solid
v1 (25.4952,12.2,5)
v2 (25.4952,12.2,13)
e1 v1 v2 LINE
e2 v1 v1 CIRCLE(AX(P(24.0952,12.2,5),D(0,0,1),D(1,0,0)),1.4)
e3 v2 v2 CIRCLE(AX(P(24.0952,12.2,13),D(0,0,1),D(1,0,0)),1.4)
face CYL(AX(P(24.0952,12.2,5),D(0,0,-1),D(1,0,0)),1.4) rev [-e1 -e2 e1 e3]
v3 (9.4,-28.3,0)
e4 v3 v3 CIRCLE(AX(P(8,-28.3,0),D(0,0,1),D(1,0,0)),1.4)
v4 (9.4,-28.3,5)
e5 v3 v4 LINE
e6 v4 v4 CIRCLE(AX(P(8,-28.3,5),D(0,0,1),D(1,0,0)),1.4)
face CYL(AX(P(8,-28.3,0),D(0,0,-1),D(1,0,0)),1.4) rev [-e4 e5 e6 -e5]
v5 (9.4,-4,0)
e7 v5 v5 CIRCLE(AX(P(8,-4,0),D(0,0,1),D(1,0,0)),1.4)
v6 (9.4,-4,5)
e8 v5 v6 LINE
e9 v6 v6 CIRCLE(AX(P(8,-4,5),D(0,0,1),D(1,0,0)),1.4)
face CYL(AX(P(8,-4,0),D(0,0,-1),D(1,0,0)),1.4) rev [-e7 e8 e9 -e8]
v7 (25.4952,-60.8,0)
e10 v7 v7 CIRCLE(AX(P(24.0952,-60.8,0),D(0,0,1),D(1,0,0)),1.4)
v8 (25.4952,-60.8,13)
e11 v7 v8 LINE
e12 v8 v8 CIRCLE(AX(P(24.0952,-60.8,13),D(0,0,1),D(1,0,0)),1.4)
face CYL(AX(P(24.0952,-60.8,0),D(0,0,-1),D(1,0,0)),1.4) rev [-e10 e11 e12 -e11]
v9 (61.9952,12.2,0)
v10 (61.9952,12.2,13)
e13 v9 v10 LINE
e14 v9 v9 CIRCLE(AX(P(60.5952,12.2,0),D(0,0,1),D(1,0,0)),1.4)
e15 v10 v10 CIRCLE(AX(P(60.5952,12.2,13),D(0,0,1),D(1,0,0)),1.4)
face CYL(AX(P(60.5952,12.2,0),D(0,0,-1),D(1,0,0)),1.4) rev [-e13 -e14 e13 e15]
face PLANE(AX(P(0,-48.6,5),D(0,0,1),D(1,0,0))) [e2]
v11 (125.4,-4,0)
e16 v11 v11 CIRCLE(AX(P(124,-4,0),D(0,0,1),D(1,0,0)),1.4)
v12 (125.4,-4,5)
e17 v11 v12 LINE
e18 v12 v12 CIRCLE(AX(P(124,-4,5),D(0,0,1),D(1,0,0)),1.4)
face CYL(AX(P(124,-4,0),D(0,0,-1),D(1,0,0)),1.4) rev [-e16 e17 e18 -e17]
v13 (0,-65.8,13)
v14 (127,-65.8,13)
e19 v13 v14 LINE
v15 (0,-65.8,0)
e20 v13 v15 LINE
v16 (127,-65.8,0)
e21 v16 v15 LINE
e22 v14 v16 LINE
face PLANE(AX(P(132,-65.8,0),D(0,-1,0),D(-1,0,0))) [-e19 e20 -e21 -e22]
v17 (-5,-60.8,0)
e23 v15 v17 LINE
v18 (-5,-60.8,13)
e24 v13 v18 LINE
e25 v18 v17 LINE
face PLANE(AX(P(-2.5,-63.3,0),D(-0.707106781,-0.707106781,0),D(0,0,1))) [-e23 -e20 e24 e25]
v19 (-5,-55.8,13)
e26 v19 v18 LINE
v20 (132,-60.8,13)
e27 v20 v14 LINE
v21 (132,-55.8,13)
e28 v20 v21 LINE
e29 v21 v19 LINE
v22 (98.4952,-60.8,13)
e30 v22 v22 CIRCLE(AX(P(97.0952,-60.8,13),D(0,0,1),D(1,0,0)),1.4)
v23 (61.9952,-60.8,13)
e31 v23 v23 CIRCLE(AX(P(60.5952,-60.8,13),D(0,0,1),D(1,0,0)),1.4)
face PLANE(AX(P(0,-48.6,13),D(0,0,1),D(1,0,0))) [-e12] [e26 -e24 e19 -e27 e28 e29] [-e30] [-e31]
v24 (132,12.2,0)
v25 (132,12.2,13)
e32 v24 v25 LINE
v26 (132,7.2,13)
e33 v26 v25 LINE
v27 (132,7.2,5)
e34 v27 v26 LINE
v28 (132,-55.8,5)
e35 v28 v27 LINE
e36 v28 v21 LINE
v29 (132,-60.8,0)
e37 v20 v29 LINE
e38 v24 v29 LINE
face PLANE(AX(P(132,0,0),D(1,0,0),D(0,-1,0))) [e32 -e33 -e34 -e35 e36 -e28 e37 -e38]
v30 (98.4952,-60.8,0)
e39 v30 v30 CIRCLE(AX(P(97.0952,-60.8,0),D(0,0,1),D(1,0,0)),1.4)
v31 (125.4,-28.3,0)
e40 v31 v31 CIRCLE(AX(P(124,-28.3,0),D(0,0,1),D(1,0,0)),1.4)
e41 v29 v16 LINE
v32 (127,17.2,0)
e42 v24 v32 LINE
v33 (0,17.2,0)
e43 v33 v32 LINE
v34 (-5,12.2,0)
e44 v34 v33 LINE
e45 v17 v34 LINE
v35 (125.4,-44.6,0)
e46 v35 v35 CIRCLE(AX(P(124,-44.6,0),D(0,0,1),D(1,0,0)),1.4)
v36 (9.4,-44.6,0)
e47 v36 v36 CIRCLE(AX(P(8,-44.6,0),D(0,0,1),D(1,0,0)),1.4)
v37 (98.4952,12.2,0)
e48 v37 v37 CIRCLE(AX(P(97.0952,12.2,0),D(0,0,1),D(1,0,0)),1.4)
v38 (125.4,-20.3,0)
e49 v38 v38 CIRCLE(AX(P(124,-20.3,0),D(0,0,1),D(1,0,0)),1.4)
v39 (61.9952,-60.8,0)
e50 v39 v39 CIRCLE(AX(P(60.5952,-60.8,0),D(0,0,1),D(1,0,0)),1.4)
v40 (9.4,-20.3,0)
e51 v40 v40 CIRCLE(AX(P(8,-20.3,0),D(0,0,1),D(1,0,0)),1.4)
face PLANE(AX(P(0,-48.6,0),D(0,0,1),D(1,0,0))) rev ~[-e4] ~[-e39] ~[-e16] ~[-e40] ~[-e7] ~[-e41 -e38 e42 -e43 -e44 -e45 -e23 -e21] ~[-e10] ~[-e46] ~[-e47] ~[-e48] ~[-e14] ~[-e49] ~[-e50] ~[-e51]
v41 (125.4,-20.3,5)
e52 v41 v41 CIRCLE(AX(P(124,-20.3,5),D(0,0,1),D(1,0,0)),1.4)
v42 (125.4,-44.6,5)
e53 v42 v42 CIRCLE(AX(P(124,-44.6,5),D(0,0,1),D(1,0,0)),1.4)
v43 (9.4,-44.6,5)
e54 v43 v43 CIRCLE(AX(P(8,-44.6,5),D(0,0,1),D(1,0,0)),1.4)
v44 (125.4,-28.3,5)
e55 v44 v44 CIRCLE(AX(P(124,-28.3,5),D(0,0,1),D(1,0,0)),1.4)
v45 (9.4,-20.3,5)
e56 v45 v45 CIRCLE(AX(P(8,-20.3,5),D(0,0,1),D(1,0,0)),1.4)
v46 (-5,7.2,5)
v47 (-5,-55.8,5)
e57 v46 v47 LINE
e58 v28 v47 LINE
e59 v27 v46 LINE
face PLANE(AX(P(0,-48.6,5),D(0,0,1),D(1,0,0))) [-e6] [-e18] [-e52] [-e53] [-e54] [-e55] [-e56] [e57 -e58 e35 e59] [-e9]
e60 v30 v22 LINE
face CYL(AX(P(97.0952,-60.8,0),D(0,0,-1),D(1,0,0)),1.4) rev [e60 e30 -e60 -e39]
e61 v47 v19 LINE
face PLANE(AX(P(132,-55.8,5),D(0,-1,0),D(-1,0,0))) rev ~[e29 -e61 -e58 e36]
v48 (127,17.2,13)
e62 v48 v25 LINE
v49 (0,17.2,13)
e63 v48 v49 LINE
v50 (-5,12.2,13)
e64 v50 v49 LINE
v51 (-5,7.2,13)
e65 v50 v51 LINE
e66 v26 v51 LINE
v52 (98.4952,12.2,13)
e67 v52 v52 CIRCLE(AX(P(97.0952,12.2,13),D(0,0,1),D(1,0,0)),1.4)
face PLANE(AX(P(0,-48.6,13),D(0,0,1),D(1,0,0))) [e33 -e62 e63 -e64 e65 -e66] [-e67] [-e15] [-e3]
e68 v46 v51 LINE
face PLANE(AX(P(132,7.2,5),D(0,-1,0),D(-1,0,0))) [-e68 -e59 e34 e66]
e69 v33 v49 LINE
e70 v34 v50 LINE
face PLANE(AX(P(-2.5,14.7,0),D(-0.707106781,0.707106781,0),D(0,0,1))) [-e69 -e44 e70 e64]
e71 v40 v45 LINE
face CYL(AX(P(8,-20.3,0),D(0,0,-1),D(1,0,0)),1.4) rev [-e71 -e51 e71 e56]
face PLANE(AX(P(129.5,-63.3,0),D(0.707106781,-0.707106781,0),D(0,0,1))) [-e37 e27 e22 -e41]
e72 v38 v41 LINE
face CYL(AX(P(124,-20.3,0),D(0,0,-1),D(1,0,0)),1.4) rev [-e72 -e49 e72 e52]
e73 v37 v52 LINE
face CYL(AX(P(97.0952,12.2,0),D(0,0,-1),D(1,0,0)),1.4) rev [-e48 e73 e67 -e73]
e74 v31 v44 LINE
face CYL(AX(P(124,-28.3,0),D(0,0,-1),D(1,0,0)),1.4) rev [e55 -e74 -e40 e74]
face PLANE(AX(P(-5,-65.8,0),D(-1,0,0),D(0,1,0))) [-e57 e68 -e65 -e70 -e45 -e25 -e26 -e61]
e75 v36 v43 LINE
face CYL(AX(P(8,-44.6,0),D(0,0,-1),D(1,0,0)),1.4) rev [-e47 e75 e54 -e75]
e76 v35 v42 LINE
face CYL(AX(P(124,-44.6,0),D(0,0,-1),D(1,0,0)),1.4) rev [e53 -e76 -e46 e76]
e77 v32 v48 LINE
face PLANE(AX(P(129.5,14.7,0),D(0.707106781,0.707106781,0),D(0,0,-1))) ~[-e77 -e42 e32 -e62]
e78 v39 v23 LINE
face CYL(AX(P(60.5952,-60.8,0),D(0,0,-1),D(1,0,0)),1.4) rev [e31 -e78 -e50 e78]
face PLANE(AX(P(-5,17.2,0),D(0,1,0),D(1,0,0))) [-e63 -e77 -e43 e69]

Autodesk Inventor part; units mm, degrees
ref_plane "YZ Plane" through (0, 0, 0) normal (1, 0, 0) x (0, 1, 0)
ref_plane "XZ Plane" through (0, 0, 0) normal (0, 1, 0) x (-1, 0, 0)
ref_plane "XY Plane" through (0, 0, 0) normal (0, 0, 1) x (1, 0, 0)
ref_plane "Arbeitsebene1" through (0, -48.6, 0) normal (0, 0, 1) x (1, 0, 0)
sketch "Skizze1" plane through (0, -48.6, 0) normal (0, 0, 1) x (1, 0, 0)
  circle A0 centre (124, 28.3) radius 1.4 projected
  circle A1 centre (124, 44.6) radius 1.4 projected
  circle A2 centre (8, 28.3) radius 1.4 projected
  circle A3 centre (8, 44.6) radius 1.4 projected
  spline S0 degree 2 poles (11.2125, 42.0174) (10.5764, 41.5903) (9.8857, 40.1908) (9.8857, 39.2184) knots 0 0 0 1 2 2 2 construction
  spline S1 degree 2 poles (14.1568, 42.7535) (13.1936, 42.7535) (11.785, 42.3991) (11.2125, 42.0174) knots 0 0 0 1 2 2 2 construction
  line L0 (18.5098, 42.7535) -> (14.1568, 42.7535) construction
  line L1 (18.5098, 31.5395) -> (18.5098, 42.7535) construction
  line L2 (15.6926, 31.5395) -> (18.5098, 31.5395) construction
  line L3 (15.6926, 35.2108) -> (15.6926, 31.5395) construction
  line L4 (14.2205, 35.2108) -> (15.6926, 35.2108) construction
  spline S2 degree 2 poles (12.2303, 35.5834) (12.6483, 35.4108) (13.6207, 35.2108) (14.2205, 35.2108) knots 0 0 0 1 2 2 2 construction
  spline S3 degree 2 poles (10.849, 36.5467) (11.1307, 36.2468) (11.8213, 35.7561) (12.2303, 35.5834) knots 0 0 0 1 2 2 2 construction
  spline S4 degree 2 poles (9.8857, 39.2184) (9.8857, 38.4369) (10.3855, 37.0193) (10.849, 36.5467) knots 0 0 0 1 2 2 2 construction
  spline S5 degree 2 poles (25.6162, 42.9898) (23.0899, 42.9898) (20.1819, 39.8637) (20.1819, 37.1465) knots 0 0 0 1 2 2 2 construction
  spline S6 degree 2 poles (31.0415, 37.1465) (31.0415, 39.8455) (28.1516, 42.9898) (25.6162, 42.9898) knots 0 0 0 1 2 2 2 construction
  spline S7 degree 2 poles (25.6162, 31.3032) (28.1516, 31.3032) (31.0415, 34.4566) (31.0415, 37.1465) knots 0 0 0 1 2 2 2 construction
  spline S8 degree 2 poles (20.1819, 37.1465) (20.1819, 34.4202) (23.0899, 31.3032) (25.6162, 31.3032) knots 0 0 0 1 2 2 2 construction
  spline S9 degree 2 poles (37.4936, 42.9898) (34.9673, 42.9898) (32.0593, 39.8637) (32.0593, 37.1465) knots 0 0 0 1 2 2 2 construction
  spline S10 degree 2 poles (42.9188, 37.1465) (42.9188, 39.8455) (40.029, 42.9898) (37.4936, 42.9898) knots 0 0 0 1 2 2 2 construction
  spline S11 degree 2 poles (37.4936, 31.3032) (40.029, 31.3032) (42.9188, 34.4566) (42.9188, 37.1465) knots 0 0 0 1 2 2 2 construction
  spline S12 degree 2 poles (32.0593, 37.1465) (32.0593, 34.4202) (34.9673, 31.3032) (37.4936, 31.3032) knots 0 0 0 1 2 2 2 construction
  line L5 (56.2684, 35.8379) -> (53.1696, 31.5395) construction
  line L6 (53.2059, 40) -> (56.2684, 35.8379) construction
  line L7 (56.2321, 40) -> (53.2059, 40) construction
  line L8 (57.8224, 37.619) -> (56.2321, 40) construction
  line L9 (59.4036, 40) -> (57.8224, 37.619) construction
  line L10 (62.4934, 40) -> (59.4036, 40) construction
  line L11 (59.4309, 35.7743) -> (62.4934, 40) construction
  line L12 (62.5479, 31.5395) -> (59.4309, 35.7743) construction
  line L13 (59.5217, 31.5395) -> (62.5479, 31.5395) construction
  line L14 (57.8678, 33.9659) -> (59.5217, 31.5395) construction
  line L15 (56.2593, 31.5395) -> (57.8678, 33.9659) construction
  line L16 (53.1696, 31.5395) -> (56.2593, 31.5395) construction
  spline S13 degree 2 poles (72.6805, 31.6667) (73.1712, 31.5031) (74.0072, 31.3396) (74.6797, 31.3396) knots 0 0 0 1 2 2 2 construction
  spline S14 degree 2 poles (71.1901, 32.3028) (71.5627, 32.1302) (72.217, 31.8121) (72.6805, 31.6667) knots 0 0 0 1 2 2 2 construction
  line L17 (71.1901, 34.084) -> (71.1901, 32.3028) construction
  line L18 (71.2992, 34.084) -> (71.1901, 34.084) construction
  spline S15 degree 2 poles (72.4896, 33.1843) (72.0807, 33.4206) (71.4718, 33.9113) (71.2992, 34.084) knots 0 0 0 1 2 2 2 construction
  spline S16 degree 2 poles (74.6615, 32.63) (74.0163, 32.63) (72.9167, 32.9481) (72.4896, 33.1843) knots 0 0 0 1 2 2 2 construction
  spline S17 degree 2 poles (77.1061, 33.7478) (76.6335, 33.1934) (75.3704, 32.63) (74.6615, 32.63) knots 0 0 0 1 2 2 2 construction
  spline S18 degree 2 poles (78.1421, 37.1374) (78.1421, 35.9833) (77.5877, 34.3203) (77.1061, 33.7478) knots 0 0 0 1 2 2 2 construction
  spline S19 degree 2 poles (77.1424, 40.527) (77.615, 39.9545) (78.1421, 38.2188) (78.1421, 37.1374) knots 0 0 0 1 2 2 2 construction
  spline S20 degree 2 poles (74.6615, 41.6812) (75.3795, 41.6812) (76.6608, 41.0905) (77.1424, 40.527) knots 0 0 0 1 2 2 2 construction
  spline S21 degree 2 poles (72.5714, 41.145) (72.9985, 41.3813) (74.0072, 41.6812) (74.6615, 41.6812) knots 0 0 0 1 2 2 2 construction
  spline S22 degree 2 poles (71.3083, 40.209) (71.5082, 40.3907) (72.1261, 40.8996) (72.5714, 41.145) knots 0 0 0 1 2 2 2 construction
  line L19 (71.1901, 40.209) -> (71.3083, 40.209) construction
  line L20 (71.1901, 42.0083) -> (71.1901, 40.209) construction
  spline S23 degree 2 poles (72.6805, 42.6626) (72.317, 42.5445) (71.5627, 42.2082) (71.1901, 42.0083) knots 0 0 0 1 2 2 2 construction
  spline S24 degree 2 poles (74.6525, 42.9534) (74.089, 42.9534) (73.0985, 42.7898) (72.6805, 42.6626) knots 0 0 0 1 2 2 2 construction
  spline S25 degree 2 poles (78.2966, 41.4085) (77.6241, 42.1628) (75.7884, 42.9534) (74.6525, 42.9534) knots 0 0 0 1 2 2 2 construction
  spline S26 degree 2 poles (79.696, 37.1374) (79.696, 38.546) (78.9781, 40.6361) (78.2966, 41.4085) knots 0 0 0 1 2 2 2 construction
  spline S27 degree 2 poles (78.2875, 32.8117) (78.9599, 33.5387) (79.696, 35.7198) (79.696, 37.1374) knots 0 0 0 1 2 2 2 construction
  spline S28 degree 2 poles (74.6797, 31.3396) (75.7702, 31.3396) (77.615, 32.0757) (78.2875, 32.8117) knots 0 0 0 1 2 2 2 construction
  line L21 (91.2735, 37.0011) -> (91.2735, 31.5395) construction
  spline S29 degree 2 poles (93.9089, 40.1908) (92.673, 40.1908) (91.2735, 38.5551) (91.2735, 37.0011) knots 0 0 0 1 2 2 2 construction
  spline S30 degree 2 poles (96.4625, 39.0185) (95.8264, 39.591) (94.5996, 40.1908) (93.9089, 40.1908) knots 0 0 0 1 2 2 2 construction
  line L22 (96.4625, 39.9545) -> (96.4625, 39.0185) construction
  line L23 (97.8802, 39.9545) -> (96.4625, 39.9545) construction
  line L24 (97.8802, 31.5395) -> (97.8802, 39.9545) construction
  line L25 (96.4625, 31.5395) -> (97.8802, 31.5395) construction
  line L26 (96.4625, 37.8281) -> (96.4625, 31.5395) construction
  spline S31 degree 2 poles (94.2815, 38.8459) (94.8086, 38.8459) (95.9263, 38.2824) (96.4625, 37.8281) knots 0 0 0 1 2 2 2 construction
  spline S32 degree 2 poles (92.9638, 38.2188) (93.1365, 38.5369) (93.7544, 38.8459) (94.2815, 38.8459) knots 0 0 0 1 2 2 2 construction
  spline S33 degree 2 poles (92.6912, 36.3377) (92.6912, 36.9193) (92.8002, 37.9189) (92.9638, 38.2188) knots 0 0 0 1 2 2 2 construction
  line L27 (92.6912, 31.5395) -> (92.6912, 36.3377) construction
  line L28 (91.2735, 31.5395) -> (92.6912, 31.5395) construction
  spline S34 degree 2 poles (100.7518, 31.5849) (101.1608, 31.4668) (101.8332, 31.3487) (102.3421, 31.3487) knots 0 0 0 1 2 2 2 construction
  spline S35 degree 2 poles (99.4705, 32.0575) (99.7158, 31.9575) (100.461, 31.6667) (100.7518, 31.5849) knots 0 0 0 1 2 2 2 construction
  line L29 (99.4705, 33.6024) -> (99.4705, 32.0575) construction
  line L30 (99.5523, 33.6024) -> (99.4705, 33.6024) construction
  spline S36 degree 2 poles (100.6337, 32.9571) (100.252, 33.1389) (99.7249, 33.457) (99.5523, 33.6024) knots 0 0 0 1 2 2 2 construction
  spline S37 degree 2 poles (102.3603, 32.5846) (101.8968, 32.5846) (100.9972, 32.7936) (100.6337, 32.9571) knots 0 0 0 1 2 2 2 construction
  spline S38 degree 2 poles (105.1411, 35.6016) (105.1411, 34.1385) (103.6689, 32.5846) (102.3603, 32.5846) knots 0 0 0 1 2 2 2 construction
  line L31 (99.316, 35.6016) -> (105.1411, 35.6016) construction
  line L32 (99.316, 36.3741) -> (99.316, 35.6016) construction
  spline S39 degree 2 poles (100.252, 39.2548) (99.7976, 38.7732) (99.316, 37.3828) (99.316, 36.3741) knots 0 0 0 1 2 2 2 construction
  spline S40 degree 2 poles (102.6875, 40.1908) (101.9059, 40.1908) (100.6973, 39.7364) (100.252, 39.2548) knots 0 0 0 1 2 2 2 construction
  spline S41 degree 2 poles (106.5769, 35.7016) (106.5769, 37.7554) (104.4232, 40.1908) (102.6875, 40.1908) knots 0 0 0 1 2 2 2 construction
  spline S42 degree 2 poles (102.3421, 31.3487) (104.3596, 31.3487) (106.5769, 33.6114) (106.5769, 35.7016) knots 0 0 0 1 2 2 2 construction
  spline S43 degree 2 poles (110.53, 40.1908) (109.0851, 40.1908) (107.4675, 37.9008) (107.4675, 35.9742) knots 0 0 0 1 2 2 2 construction
  spline S44 degree 2 poles (113.1018, 39.073) (112.5747, 39.5547) (111.2843, 40.1908) (110.53, 40.1908) knots 0 0 0 1 2 2 2 construction
  line L33 (113.1018, 39.9545) -> (113.1018, 39.073) construction
  line L34 (114.5194, 39.9545) -> (113.1018, 39.9545) construction
  line L35 (114.5194, 28.4406) -> (114.5194, 39.9545) construction
  line L36 (113.1018, 28.4406) -> (114.5194, 28.4406) construction
  line L37 (113.1018, 31.9666) -> (113.1018, 28.4406) construction
  spline S45 degree 2 poles (111.0116, 31.3759) (111.6387, 31.3759) (112.6019, 31.6667) (113.1018, 31.9666) knots 0 0 0 1 2 2 2 construction
  spline S46 degree 2 poles (107.4675, 35.9742) (107.4675, 33.8659) (109.4758, 31.3759) (111.0116, 31.3759) knots 0 0 0 1 2 2 2 construction
  spline S47 degree 2 poles (119.7266, 40.1908) (118.0181, 40.1908) (115.9734, 37.8644) (115.9734, 35.747) knots 0 0 0 1 2 2 2 construction
  spline S48 degree 2 poles (123.4888, 35.747) (123.4888, 37.8553) (121.4168, 40.1908) (119.7266, 40.1908) knots 0 0 0 1 2 2 2 construction
  spline S49 degree 2 poles (119.7266, 31.3032) (121.4805, 31.3032) (123.4888, 33.6932) (123.4888, 35.747) knots 0 0 0 1 2 2 2 construction
  spline S50 degree 2 poles (115.9734, 35.747) (115.9734, 33.6205) (118.0181, 31.3032) (119.7266, 31.3032) knots 0 0 0 1 2 2 2 construction
  spline S51 degree 2 poles (82.2678, 32.3392) (82.804, 31.8121) (84.2216, 31.3032) (85.2576, 31.3032) knots 0 0 0 1 2 2 2 construction
  spline S52 degree 2 poles (81.1955, 35.7561) (81.1955, 34.5838) (81.668, 32.9117) (82.2678, 32.3392) knots 0 0 0 1 2 2 2 construction
  line L38 (81.1955, 42.7535) -> (81.1955, 35.7561) construction
  line L39 (82.6858, 42.7535) -> (81.1955, 42.7535) construction
  line L40 (82.6858, 35.7198) -> (82.6858, 42.7535) construction
  spline S53 degree 2 poles (83.1675, 33.4933) (82.8858, 33.9204) (82.6858, 34.9655) (82.6858, 35.7198) knots 0 0 0 1 2 2 2 construction
  spline S54 degree 2 poles (85.2576, 32.5755) (84.5579, 32.5755) (83.4674, 33.0389) (83.1675, 33.4933) knots 0 0 0 1 2 2 2 construction
  spline S55 degree 2 poles (87.3386, 33.4933) (87.0388, 33.0389) (86.0028, 32.5755) (85.2576, 32.5755) knots 0 0 0 1 2 2 2 construction
  spline S56 degree 2 poles (87.8203, 35.7561) (87.8203, 34.9746) (87.6204, 33.9204) (87.3386, 33.4933) knots 0 0 0 1 2 2 2 construction
  line L41 (87.8203, 42.7535) -> (87.8203, 35.7561) construction
  line L42 (89.3106, 42.7535) -> (87.8203, 42.7535) construction
  line L43 (89.3106, 35.7561) -> (89.3106, 42.7535) construction
  spline S57 degree 2 poles (88.2383, 32.3392) (88.829, 32.9208) (89.3106, 34.5565) (89.3106, 35.7561) knots 0 0 0 1 2 2 2 construction
  spline S58 degree 2 poles (85.2576, 31.3032) (86.2481, 31.3032) (87.7203, 31.8212) (88.2383, 32.3392) knots 0 0 0 1 2 2 2 construction
  line L44 (63.2022, 32.839) -> (63.2022, 31.5395) construction
  line L45 (68.7092, 32.839) -> (63.2022, 32.839) construction
  spline S59 degree 2 poles (65.7467, 35.747) (66.4555, 34.9746) (68.1912, 33.3206) (68.7092, 32.839) knots 0 0 0 1 2 2 2 construction
  spline S60 degree 2 poles (64.2472, 37.6645) (64.5199, 37.1738) (65.3105, 36.2105) (65.7467, 35.747) knots 0 0 0 1 2 2 2 construction
  spline S61 degree 2 poles (63.6656, 39.9091) (63.6656, 39.2457) (63.9746, 38.137) (64.2472, 37.6645) knots 0 0 0 1 2 2 2 construction
  spline S62 degree 2 poles (67.0099, 42.9898) (65.4377, 42.9898) (63.6656, 41.3268) (63.6656, 39.9091) knots 0 0 0 1 2 2 2 construction
  spline S63 degree 2 poles (69.8815, 42.3173) (69.418, 42.5445) (67.755, 42.9898) (67.0099, 42.9898) knots 0 0 0 1 2 2 2 construction
  line L46 (69.8815, 40.7179) -> (69.8815, 42.3173) construction
  line L47 (69.7997, 40.7179) -> (69.8815, 40.7179) construction
  spline S64 degree 2 poles (68.7092, 41.3358) (69.0273, 41.2086) (69.618, 40.8451) (69.7997, 40.7179) knots 0 0 0 1 2 2 2 construction
  spline S65 degree 2 poles (67.1189, 41.6903) (67.5188, 41.6903) (68.3366, 41.4903) (68.7092, 41.3358) knots 0 0 0 1 2 2 2 construction
  spline S66 degree 2 poles (65.7467, 41.2359) (66.0102, 41.4631) (66.7009, 41.6903) (67.1189, 41.6903) knots 0 0 0 1 2 2 2 construction
  spline S67 degree 2 poles (65.1924, 39.8273) (65.1924, 40.2999) (65.4832, 41.0087) (65.7467, 41.2359) knots 0 0 0 1 2 2 2 construction
  spline S68 degree 2 poles (67.4097, 35.8288) (66.1284, 37.2374) (65.1924, 38.9276) (65.1924, 39.8273) knots 0 0 0 1 2 2 2 construction
  spline S69 degree 2 poles (70.1178, 33.1298) (69.3726, 33.8295) (68.0458, 35.1291) (67.4097, 35.8288) knots 0 0 0 1 2 2 2 construction
  line L48 (70.1178, 31.5395) -> (70.1178, 33.1298) construction
  line L49 (63.2022, 31.5395) -> (70.1178, 31.5395) construction
  spline S70 degree 2 poles (43.7095, 35.0473) (43.7095, 33.3752) (46.3357, 31.3396) (48.5713, 31.3396) knots 0 0 0 1 2 2 2 construction
  spline S71 degree 2 poles (46.0086, 38.0552) (44.8454, 37.6281) (43.7095, 36.2105) (43.7095, 35.0473) knots 0 0 0 1 2 2 2 construction
  spline S72 degree 2 poles (48.2169, 38.6368) (47.6534, 38.5096) (46.6084, 38.2643) (46.0086, 38.0552) knots 0 0 0 1 2 2 2 construction
  spline S73 degree 2 poles (49.6981, 39.7728) (49.6981, 39.3366) (49.0893, 38.8368) (48.2169, 38.6368) knots 0 0 0 1 2 2 2 construction
  spline S74 degree 2 poles (49.0529, 40.6543) (49.3165, 40.5361) (49.6981, 40.0636) (49.6981, 39.7728) knots 0 0 0 1 2 2 2 construction
  spline S75 degree 2 poles (47.7716, 40.9087) (48.1442, 40.9087) (48.7258, 40.7997) (49.0529, 40.6543) knots 0 0 0 1 2 2 2 construction
  spline S76 degree 2 poles (44.4001, 39.6365) (45.0271, 40.1726) (46.8265, 40.9087) (47.7716, 40.9087) knots 0 0 0 1 2 2 2 construction
  line L50 (44.1547, 39.6365) -> (44.4001, 39.6365) construction
  line L51 (44.1547, 42.1992) -> (44.1547, 39.6365) construction
  spline S77 degree 2 poles (47.917, 42.9534) (46.9173, 42.9534) (44.9363, 42.5445) (44.1547, 42.1992) knots 0 0 0 1 2 2 2 construction
  spline S78 degree 2 poles (52.5789, 39.4275) (52.5789, 40.9996) (49.9162, 42.9534) (47.917, 42.9534) knots 0 0 0 1 2 2 2 construction
  spline S79 degree 2 poles (50.1525, 36.2559) (51.452, 36.7103) (52.5789, 38.2643) (52.5789, 39.4275) knots 0 0 0 1 2 2 2 construction
  spline S80 degree 2 poles (47.708, 35.638) (48.2805, 35.7925) (49.58, 36.056) (50.1525, 36.2559) knots 0 0 0 1 2 2 2 construction
  spline S81 degree 2 poles (46.5902, 34.5656) (46.5902, 34.9927) (47.2536, 35.5198) (47.708, 35.638) knots 0 0 0 1 2 2 2 construction
  spline S82 degree 2 poles (47.2899, 33.6024) (46.9991, 33.7296) (46.5902, 34.193) (46.5902, 34.5656) knots 0 0 0 1 2 2 2 construction
  spline S83 degree 2 poles (48.5622, 33.3843) (48.3168, 33.3843) (47.5262, 33.4933) (47.2899, 33.6024) knots 0 0 0 1 2 2 2 construction
  spline S84 degree 2 poles (52.388, 34.8746) (51.5429, 34.1567) (49.5164, 33.3843) (48.5622, 33.3843) knots 0 0 0 1 2 2 2 construction
  line L52 (52.6425, 34.8746) -> (52.388, 34.8746) construction
  line L53 (52.6425, 32.2029) -> (52.6425, 34.8746) construction
  spline S85 degree 2 poles (48.5713, 31.3396) (49.8617, 31.3396) (51.8064, 31.8394) (52.6425, 32.2029) knots 0 0 0 1 2 2 2 construction
  line L54 (128, 24.3) -> (128, 48.6) projected
  line L55 (4, 48.6) -> (128, 48.6) projected
  line L56 (4, 48.6) -> (4, 24.3) projected
  line L57 (4, 24.3) -> (128, 24.3) construction
  circle A4 centre (124, 20.3) radius 1.4 projected
  circle A5 centre (124, 4) radius 1.4 projected
  circle A6 centre (8, 20.3) radius 1.4 projected
  circle A7 centre (8, 4) radius 1.4 projected
  spline S86 degree 2 poles (11.2125, 6.5826) (10.5764, 7.0097) (9.8857, 8.4092) (9.8857, 9.3816) knots 0 0 0 1 2 2 2 construction
  spline S87 degree 2 poles (9.8857, 9.3816) (9.8857, 10.1631) (10.3855, 11.5807) (10.849, 12.0533) knots 0 0 0 1 2 2 2 construction
  spline S88 degree 2 poles (10.849, 12.0533) (11.1307, 12.3532) (11.8213, 12.8439) (12.2303, 13.0166) knots 0 0 0 1 2 2 2 construction
  spline S89 degree 2 poles (12.2303, 13.0166) (12.6483, 13.1892) (13.6207, 13.3892) (14.2205, 13.3892) knots 0 0 0 1 2 2 2 construction
  line L58 (14.2205, 13.3892) -> (15.6926, 13.3892) construction
  line L59 (15.6926, 13.3892) -> (15.6926, 17.0605) construction
  line L60 (15.6926, 17.0605) -> (18.5098, 17.0605) construction
  line L61 (18.5098, 17.0605) -> (18.5098, 5.8465) construction
  line L62 (18.5098, 5.8465) -> (14.1568, 5.8465) construction
  spline S90 degree 2 poles (14.1568, 5.8465) (13.1936, 5.8465) (11.785, 6.2009) (11.2125, 6.5826) knots 0 0 0 1 2 2 2 construction
  spline S91 degree 2 poles (25.6162, 5.6102) (23.0899, 5.6102) (20.1819, 8.7363) (20.1819, 11.4535) knots 0 0 0 1 2 2 2 construction
  spline S92 degree 2 poles (20.1819, 11.4535) (20.1819, 14.1798) (23.0899, 17.2968) (25.6162, 17.2968) knots 0 0 0 1 2 2 2 construction
  spline S93 degree 2 poles (25.6162, 17.2968) (28.1516, 17.2968) (31.0415, 14.1434) (31.0415, 11.4535) knots 0 0 0 1 2 2 2 construction
  spline S94 degree 2 poles (31.0415, 11.4535) (31.0415, 8.7545) (28.1516, 5.6102) (25.6162, 5.6102) knots 0 0 0 1 2 2 2 construction
  spline S95 degree 2 poles (37.4936, 5.6102) (34.9673, 5.6102) (32.0593, 8.7363) (32.0593, 11.4535) knots 0 0 0 1 2 2 2 construction
  spline S96 degree 2 poles (32.0593, 11.4535) (32.0593, 14.1798) (34.9673, 17.2968) (37.4936, 17.2968) knots 0 0 0 1 2 2 2 construction
  spline S97 degree 2 poles (37.4936, 17.2968) (40.029, 17.2968) (42.9188, 14.1434) (42.9188, 11.4535) knots 0 0 0 1 2 2 2 construction
  spline S98 degree 2 poles (42.9188, 11.4535) (42.9188, 8.7545) (40.029, 5.6102) (37.4936, 5.6102) knots 0 0 0 1 2 2 2 construction
  line L63 (56.2684, 12.7621) -> (53.1696, 17.0605) construction
  line L64 (53.1696, 17.0605) -> (56.2593, 17.0605) construction
  line L65 (56.2593, 17.0605) -> (57.8678, 14.6341) construction
  line L66 (57.8678, 14.6341) -> (59.5217, 17.0605) construction
  line L67 (59.5217, 17.0605) -> (62.5479, 17.0605) construction
  line L68 (62.5479, 17.0605) -> (59.4309, 12.8257) construction
  line L69 (59.4309, 12.8257) -> (62.4934, 8.6) construction
  line L70 (62.4934, 8.6) -> (59.4036, 8.6) construction
  line L71 (59.4036, 8.6) -> (57.8224, 10.981) construction
  line L72 (57.8224, 10.981) -> (56.2321, 8.6) construction
  line L73 (56.2321, 8.6) -> (53.2059, 8.6) construction
  line L74 (53.2059, 8.6) -> (56.2684, 12.7621) construction
  spline S99 degree 2 poles (72.6805, 16.9333) (73.1712, 17.0969) (74.0072, 17.2604) (74.6797, 17.2604) knots 0 0 0 1 2 2 2 construction
  spline S100 degree 2 poles (74.6797, 17.2604) (75.7702, 17.2604) (77.615, 16.5243) (78.2875, 15.7883) knots 0 0 0 1 2 2 2 construction
  spline S101 degree 2 poles (78.2875, 15.7883) (78.9599, 15.0613) (79.696, 12.8802) (79.696, 11.4626) knots 0 0 0 1 2 2 2 construction
  spline S102 degree 2 poles (79.696, 11.4626) (79.696, 10.054) (78.9781, 7.9639) (78.2966, 7.1915) knots 0 0 0 1 2 2 2 construction
  spline S103 degree 2 poles (78.2966, 7.1915) (77.6241, 6.4372) (75.7884, 5.6466) (74.6525, 5.6466) knots 0 0 0 1 2 2 2 construction
  spline S104 degree 2 poles (74.6525, 5.6466) (74.089, 5.6466) (73.0985, 5.8102) (72.6805, 5.9374) knots 0 0 0 1 2 2 2 construction
  spline S105 degree 2 poles (72.6805, 5.9374) (72.317, 6.0555) (71.5627, 6.3918) (71.1901, 6.5917) knots 0 0 0 1 2 2 2 construction
  line L75 (71.1901, 6.5917) -> (71.1901, 8.391) construction
  line L76 (71.1901, 8.391) -> (71.3083, 8.391) construction
  spline S106 degree 2 poles (71.3083, 8.391) (71.5082, 8.2093) (72.1261, 7.7004) (72.5714, 7.455) knots 0 0 0 1 2 2 2 construction
  spline S107 degree 2 poles (72.5714, 7.455) (72.9985, 7.2187) (74.0072, 6.9188) (74.6615, 6.9188) knots 0 0 0 1 2 2 2 construction
  spline S108 degree 2 poles (74.6615, 6.9188) (75.3795, 6.9188) (76.6608, 7.5095) (77.1424, 8.073) knots 0 0 0 1 2 2 2 construction
  spline S109 degree 2 poles (77.1424, 8.073) (77.615, 8.6455) (78.1421, 10.3812) (78.1421, 11.4626) knots 0 0 0 1 2 2 2 construction
  spline S110 degree 2 poles (78.1421, 11.4626) (78.1421, 12.6167) (77.5877, 14.2797) (77.1061, 14.8522) knots 0 0 0 1 2 2 2 construction
  spline S111 degree 2 poles (77.1061, 14.8522) (76.6335, 15.4066) (75.3704, 15.97) (74.6615, 15.97) knots 0 0 0 1 2 2 2 construction
  spline S112 degree 2 poles (74.6615, 15.97) (74.0163, 15.97) (72.9167, 15.6519) (72.4896, 15.4157) knots 0 0 0 1 2 2 2 construction
  spline S113 degree 2 poles (72.4896, 15.4157) (72.0807, 15.1794) (71.4718, 14.6887) (71.2992, 14.516) knots 0 0 0 1 2 2 2 construction
  line L77 (71.2992, 14.516) -> (71.1901, 14.516) construction
  line L78 (71.1901, 14.516) -> (71.1901, 16.2972) construction
  spline S114 degree 2 poles (71.1901, 16.2972) (71.5627, 16.4698) (72.217, 16.7879) (72.6805, 16.9333) knots 0 0 0 1 2 2 2 construction
  line L79 (91.2735, 11.5989) -> (91.2735, 17.0605) construction
  line L80 (91.2735, 17.0605) -> (92.6912, 17.0605) construction
  line L81 (92.6912, 17.0605) -> (92.6912, 12.2623) construction
  spline S115 degree 2 poles (92.6912, 12.2623) (92.6912, 11.6807) (92.8002, 10.6811) (92.9638, 10.3812) knots 0 0 0 1 2 2 2 construction
  spline S116 degree 2 poles (92.9638, 10.3812) (93.1365, 10.0631) (93.7544, 9.7541) (94.2815, 9.7541) knots 0 0 0 1 2 2 2 construction
  spline S117 degree 2 poles (94.2815, 9.7541) (94.8086, 9.7541) (95.9263, 10.3176) (96.4625, 10.7719) knots 0 0 0 1 2 2 2 construction
  line L82 (96.4625, 10.7719) -> (96.4625, 17.0605) construction
  line L83 (96.4625, 17.0605) -> (97.8802, 17.0605) construction
  line L84 (97.8802, 17.0605) -> (97.8802, 8.6455) construction
  line L85 (97.8802, 8.6455) -> (96.4625, 8.6455) construction
  line L86 (96.4625, 8.6455) -> (96.4625, 9.5815) construction
  spline S118 degree 2 poles (96.4625, 9.5815) (95.8264, 9.009) (94.5996, 8.4092) (93.9089, 8.4092) knots 0 0 0 1 2 2 2 construction
  spline S119 degree 2 poles (93.9089, 8.4092) (92.673, 8.4092) (91.2735, 10.0449) (91.2735, 11.5989) knots 0 0 0 1 2 2 2 construction
  spline S120 degree 2 poles (100.7518, 17.0151) (101.1608, 17.1332) (101.8332, 17.2513) (102.3421, 17.2513) knots 0 0 0 1 2 2 2 construction
  spline S121 degree 2 poles (102.3421, 17.2513) (104.3596, 17.2513) (106.5769, 14.9886) (106.5769, 12.8984) knots 0 0 0 1 2 2 2 construction
  spline S122 degree 2 poles (106.5769, 12.8984) (106.5769, 10.8446) (104.4232, 8.4092) (102.6875, 8.4092) knots 0 0 0 1 2 2 2 construction
  spline S123 degree 2 poles (102.6875, 8.4092) (101.9059, 8.4092) (100.6973, 8.8636) (100.252, 9.3452) knots 0 0 0 1 2 2 2 construction
  spline S124 degree 2 poles (100.252, 9.3452) (99.7976, 9.8268) (99.316, 11.2172) (99.316, 12.2259) knots 0 0 0 1 2 2 2 construction
  line L87 (99.316, 12.2259) -> (99.316, 12.9984) construction
  line L88 (99.316, 12.9984) -> (105.1411, 12.9984) construction
  spline S125 degree 2 poles (105.1411, 12.9984) (105.1411, 14.4615) (103.6689, 16.0154) (102.3603, 16.0154) knots 0 0 0 1 2 2 2 construction
  spline S126 degree 2 poles (102.3603, 16.0154) (101.8968, 16.0154) (100.9972, 15.8064) (100.6337, 15.6429) knots 0 0 0 1 2 2 2 construction
  spline S127 degree 2 poles (100.6337, 15.6429) (100.252, 15.4611) (99.7249, 15.143) (99.5523, 14.9976) knots 0 0 0 1 2 2 2 construction
  line L89 (99.5523, 14.9976) -> (99.4705, 14.9976) construction
  line L90 (99.4705, 14.9976) -> (99.4705, 16.5425) construction
  spline S128 degree 2 poles (99.4705, 16.5425) (99.7158, 16.6425) (100.461, 16.9333) (100.7518, 17.0151) knots 0 0 0 1 2 2 2 construction
  spline S129 degree 2 poles (110.53, 8.4092) (109.0851, 8.4092) (107.4675, 10.6992) (107.4675, 12.6258) knots 0 0 0 1 2 2 2 construction
  spline S130 degree 2 poles (107.4675, 12.6258) (107.4675, 14.7341) (109.4758, 17.2241) (111.0116, 17.2241) knots 0 0 0 1 2 2 2 construction
  spline S131 degree 2 poles (111.0116, 17.2241) (111.6387, 17.2241) (112.6019, 16.9333) (113.1018, 16.6334) knots 0 0 0 1 2 2 2 construction
  line L91 (113.1018, 16.6334) -> (113.1018, 20.1594) construction
  line L92 (113.1018, 20.1594) -> (114.5194, 20.1594) construction
  line L93 (114.5194, 20.1594) -> (114.5194, 8.6455) construction
  line L94 (114.5194, 8.6455) -> (113.1018, 8.6455) construction
  line L95 (113.1018, 8.6455) -> (113.1018, 9.527) construction
  spline S132 degree 2 poles (113.1018, 9.527) (112.5747, 9.0453) (111.2843, 8.4092) (110.53, 8.4092) knots 0 0 0 1 2 2 2 construction
  spline S133 degree 2 poles (119.7266, 8.4092) (118.0181, 8.4092) (115.9734, 10.7356) (115.9734, 12.853) knots 0 0 0 1 2 2 2 construction
  spline S134 degree 2 poles (115.9734, 12.853) (115.9734, 14.9795) (118.0181, 17.2968) (119.7266, 17.2968) knots 0 0 0 1 2 2 2 construction
  spline S135 degree 2 poles (119.7266, 17.2968) (121.4805, 17.2968) (123.4888, 14.9068) (123.4888, 12.853) knots 0 0 0 1 2 2 2 construction
  spline S136 degree 2 poles (123.4888, 12.853) (123.4888, 10.7447) (121.4168, 8.4092) (119.7266, 8.4092) knots 0 0 0 1 2 2 2 construction
  spline S137 degree 2 poles (82.2678, 16.2608) (82.804, 16.7879) (84.2216, 17.2968) (85.2576, 17.2968) knots 0 0 0 1 2 2 2 construction
  spline S138 degree 2 poles (85.2576, 17.2968) (86.2481, 17.2968) (87.7203, 16.7788) (88.2383, 16.2608) knots 0 0 0 1 2 2 2 construction
  spline S139 degree 2 poles (88.2383, 16.2608) (88.829, 15.6792) (89.3106, 14.0435) (89.3106, 12.8439) knots 0 0 0 1 2 2 2 construction
  line L96 (89.3106, 12.8439) -> (89.3106, 5.8465) construction
  line L97 (89.3106, 5.8465) -> (87.8203, 5.8465) construction
  line L98 (87.8203, 5.8465) -> (87.8203, 12.8439) construction
  spline S140 degree 2 poles (87.8203, 12.8439) (87.8203, 13.6254) (87.6204, 14.6796) (87.3386, 15.1067) knots 0 0 0 1 2 2 2 construction
  spline S141 degree 2 poles (87.3386, 15.1067) (87.0388, 15.5611) (86.0028, 16.0245) (85.2576, 16.0245) knots 0 0 0 1 2 2 2 construction
  spline S142 degree 2 poles (85.2576, 16.0245) (84.5579, 16.0245) (83.4674, 15.5611) (83.1675, 15.1067) knots 0 0 0 1 2 2 2 construction
  spline S143 degree 2 poles (83.1675, 15.1067) (82.8858, 14.6796) (82.6858, 13.6345) (82.6858, 12.8802) knots 0 0 0 1 2 2 2 construction
  line L99 (82.6858, 12.8802) -> (82.6858, 5.8465) construction
  line L100 (82.6858, 5.8465) -> (81.1955, 5.8465) construction
  line L101 (81.1955, 5.8465) -> (81.1955, 12.8439) construction
  spline S144 degree 2 poles (81.1955, 12.8439) (81.1955, 14.0162) (81.668, 15.6883) (82.2678, 16.2608) knots 0 0 0 1 2 2 2 construction
  line L102 (63.2022, 15.761) -> (63.2022, 17.0605) construction
  line L103 (63.2022, 17.0605) -> (70.1178, 17.0605) construction
  line L104 (70.1178, 17.0605) -> (70.1178, 15.4702) construction
  spline S145 degree 2 poles (70.1178, 15.4702) (69.3726, 14.7705) (68.0458, 13.4709) (67.4097, 12.7712) knots 0 0 0 1 2 2 2 construction
  spline S146 degree 2 poles (67.4097, 12.7712) (66.1284, 11.3626) (65.1924, 9.6724) (65.1924, 8.7727) knots 0 0 0 1 2 2 2 construction
  spline S147 degree 2 poles (65.1924, 8.7727) (65.1924, 8.3001) (65.4832, 7.5913) (65.7467, 7.3641) knots 0 0 0 1 2 2 2 construction
  spline S148 degree 2 poles (65.7467, 7.3641) (66.0102, 7.1369) (66.7009, 6.9097) (67.1189, 6.9097) knots 0 0 0 1 2 2 2 construction
  spline S149 degree 2 poles (67.1189, 6.9097) (67.5188, 6.9097) (68.3366, 7.1097) (68.7092, 7.2642) knots 0 0 0 1 2 2 2 construction
  spline S150 degree 2 poles (68.7092, 7.2642) (69.0273, 7.3914) (69.618, 7.7549) (69.7997, 7.8821) knots 0 0 0 1 2 2 2 construction
  line L105 (69.7997, 7.8821) -> (69.8815, 7.8821) construction
  line L106 (69.8815, 7.8821) -> (69.8815, 6.2827) construction
  spline S151 degree 2 poles (69.8815, 6.2827) (69.418, 6.0555) (67.755, 5.6102) (67.0099, 5.6102) knots 0 0 0 1 2 2 2 construction
  spline S152 degree 2 poles (67.0099, 5.6102) (65.4377, 5.6102) (63.6656, 7.2732) (63.6656, 8.6909) knots 0 0 0 1 2 2 2 construction
  spline S153 degree 2 poles (63.6656, 8.6909) (63.6656, 9.3543) (63.9746, 10.463) (64.2472, 10.9355) knots 0 0 0 1 2 2 2 construction
  spline S154 degree 2 poles (64.2472, 10.9355) (64.5199, 11.4262) (65.3105, 12.3895) (65.7467, 12.853) knots 0 0 0 1 2 2 2 construction
  spline S155 degree 2 poles (65.7467, 12.853) (66.4555, 13.6254) (68.1912, 15.2794) (68.7092, 15.761) knots 0 0 0 1 2 2 2 construction
  line L107 (68.7092, 15.761) -> (63.2022, 15.761) construction
  spline S156 degree 2 poles (43.7095, 13.5527) (43.7095, 15.2248) (46.3357, 17.2604) (48.5713, 17.2604) knots 0 0 0 1 2 2 2 construction
  spline S157 degree 2 poles (48.5713, 17.2604) (49.8617, 17.2604) (51.8064, 16.7606) (52.6425, 16.3971) knots 0 0 0 1 2 2 2 construction
  line L108 (52.6425, 16.3971) -> (52.6425, 13.7254) construction
  line L109 (52.6425, 13.7254) -> (52.388, 13.7254) construction
  spline S158 degree 2 poles (52.388, 13.7254) (51.5429, 14.4433) (49.5164, 15.2157) (48.5622, 15.2157) knots 0 0 0 1 2 2 2 construction
  spline S159 degree 2 poles (48.5622, 15.2157) (48.3168, 15.2157) (47.5262, 15.1067) (47.2899, 14.9976) knots 0 0 0 1 2 2 2 construction
  spline S160 degree 2 poles (47.2899, 14.9976) (46.9991, 14.8704) (46.5902, 14.407) (46.5902, 14.0344) knots 0 0 0 1 2 2 2 construction
  spline S161 degree 2 poles (46.5902, 14.0344) (46.5902, 13.6073) (47.2536, 13.0802) (47.708, 12.962) knots 0 0 0 1 2 2 2 construction
  spline S162 degree 2 poles (47.708, 12.962) (48.2805, 12.8075) (49.58, 12.544) (50.1525, 12.3441) knots 0 0 0 1 2 2 2 construction
  spline S163 degree 2 poles (50.1525, 12.3441) (51.452, 11.8897) (52.5789, 10.3357) (52.5789, 9.1725) knots 0 0 0 1 2 2 2 construction
  spline S164 degree 2 poles (52.5789, 9.1725) (52.5789, 7.6004) (49.9162, 5.6466) (47.917, 5.6466) knots 0 0 0 1 2 2 2 construction
  spline S165 degree 2 poles (47.917, 5.6466) (46.9173, 5.6466) (44.9363, 6.0555) (44.1547, 6.4008) knots 0 0 0 1 2 2 2 construction
  line L110 (44.1547, 6.4008) -> (44.1547, 8.9635) construction
  line L111 (44.1547, 8.9635) -> (44.4001, 8.9635) construction
  spline S166 degree 2 poles (44.4001, 8.9635) (45.0271, 8.4274) (46.8265, 7.6913) (47.7716, 7.6913) knots 0 0 0 1 2 2 2 construction
  spline S167 degree 2 poles (47.7716, 7.6913) (48.1442, 7.6913) (48.7258, 7.8003) (49.0529, 7.9457) knots 0 0 0 1 2 2 2 construction
  spline S168 degree 2 poles (49.0529, 7.9457) (49.3165, 8.0639) (49.6981, 8.5364) (49.6981, 8.8272) knots 0 0 0 1 2 2 2 construction
  spline S169 degree 2 poles (49.6981, 8.8272) (49.6981, 9.2634) (49.0893, 9.7632) (48.2169, 9.9632) knots 0 0 0 1 2 2 2 construction
  spline S170 degree 2 poles (48.2169, 9.9632) (47.6534, 10.0904) (46.6084, 10.3357) (46.0086, 10.5448) knots 0 0 0 1 2 2 2 construction
  spline S171 degree 2 poles (46.0086, 10.5448) (44.8454, 10.9719) (43.7095, 12.3895) (43.7095, 13.5527) knots 0 0 0 1 2 2 2 construction
  line L112 (128, 24.3) -> (128, 0) projected
  line L113 (4, 24.3) -> (128, 24.3) construction
  line L114 (4, 0) -> (4, 24.3) projected
  line L115 (4, 0) -> (128, 0) construction
  line L116 (-5, 2) -> (-5, 46.6) projected
  line L117 (132, 48.6) -> (132, 24.3) projected
  line L118 (132, 48.6) -> (-5, 48.6)
  line L119 (-5, 48.6) -> (-5, 0)
  line L120 (-5, 0) -> (132, 0)
  line L121 (132, 0) -> (132, 48.6)
  circle A8 centre (24.0952, 60.8) radius 5 projected
  circle A9 centre (24.0952, 60.8) radius 1.4 projected
  circle A10 centre (60.5952, 60.8) radius 5 projected
  circle A11 centre (97.0952, 60.8) radius 5 projected
  circle A12 centre (24.0952, -12.2) radius 1.4 projected
  circle A13 centre (60.5952, -12.2) radius 1.4 projected
  circle A14 centre (97.0952, -12.2) radius 1.4 projected
  circle A15 centre (97.0952, 60.8) radius 1.4 projected
  circle A16 centre (97.0952, -12.2) radius 5 projected
  line L122 (-5, 65.8) -> (132, 65.8)
  line L123 (132, 65.8) -> (132, -17.2)
  line L124 (132, -17.2) -> (-5, -17.2)
  line L125 (-5, -17.2) -> (-5, 65.8)
  circle A17 centre (60.5952, 60.8) radius 1.4
  point P0 (0, 48.6)
  point P1 (60.5952, 65.8)
  point P2 (24.0952, 65.8)
  point P3 (-5, 48.6)
  dimension "d2" = 2.8
extrude "Extrusion1" add sketch "Skizze1" along normal blind 5 contours L112 L120 L114 L56 L55 L54 | L54 L118 L117 L121 L120 L112 | A11 | A10 | A8 | L55 L118 L125 L122 L123 | A16 | L120 L123 L124 L125 | L56 L114 L120 L119 L116 L118 | A9
chamfer "Fasen1" distance 5 angle 45 4 edges at (-5, 17.2, 2.5) (132, 17.2, 2.5) (-5, -65.8, 2.5) (132, -65.8, 2.5)
sketch "Skizze2" plane through (0, -48.6, 0) normal (0, 0, -1) x (-1, 0, 0)
  line L0 (-127, -17.2) -> (-132, -12.2) projected
  line L1 (0, -17.2) -> (-127, -17.2) projected
  line L2 (5, -12.2) -> (0, -17.2) projected
  line L3 (5, 60.8) -> (5, -12.2) projected
  line L4 (0, 65.8) -> (5, 60.8) projected
  line L5 (-127, 65.8) -> (0, 65.8) projected
  line L6 (-132, 60.8) -> (-127, 65.8) projected
  line L7 (-132, -12.2) -> (-132, 60.8) projected
  circle A0 centre (-8, 20.3) radius 1.4 projected
  circle A1 centre (-124, 4) radius 1.4 projected
  circle A2 centre (-124, 20.3) radius 1.4 projected
  circle A3 centre (-8, 44.6) radius 1.4 projected
  circle A4 centre (-8, 28.3) radius 1.4 projected
  circle A5 centre (-124, 44.6) radius 1.4 projected
  circle A6 centre (-124, 28.3) radius 1.4 projected
  circle A7 centre (-8, 4) radius 1.4 projected
  circle A8 centre (-24.0952, -12.2) radius 1.4 projected
  circle A9 centre (-60.5952, -12.2) radius 1.4 projected
  circle A10 centre (-97.0952, -12.2) radius 1.4 projected
  circle A11 centre (-97.0952, 60.8) radius 1.4 projected
  circle A12 centre (-60.5952, 60.8) radius 1.4 projected
  line L8 (-103.75, 48.6) -> (-4, 48.6) projected
  line L9 (-103.75, 0) -> (-4, 0) projected
  line L10 (5, 49.1) -> (-132, 49.1)
  line L11 (-132, 49.1) -> (-132, -0.5)
  line L12 (-132, -0.5) -> (5, -0.5)
  line L13 (5, -0.5) -> (5, 49.1)
  point P0 (0, 48.6)
  point P1 (5, -0.5)
  dimension "d6" = 0.5
  dimension "d7" = 0.5
extrude "Extrusion2" [suppressed]
sketch "Skizze3" plane through (0, -48.6, 5) normal (0, 0, 1) x (1, 0, 0)
  line L0 (132, -12.2) -> (127, -17.2) projected
  line L1 (132, -12.2) -> (132, 60.8) projected
  line L2 (127, 65.8) -> (132, 60.8) projected
  line L3 (127, 65.8) -> (0, 65.8) projected
  line L4 (-5, 60.8) -> (0, 65.8) projected
  line L5 (-5, 60.8) -> (-5, -12.2) projected
  line L6 (0, -17.2) -> (-5, -12.2) projected
  line L7 (0, -17.2) -> (127, -17.2) projected
  circle A0 centre (8, 20.3) radius 1.4 projected
  circle A1 centre (124, 4) radius 1.4 projected
  circle A2 centre (124, 20.3) radius 1.4 projected
  circle A3 centre (8, 44.6) radius 1.4 projected
  circle A4 centre (8, 28.3) radius 1.4 projected
  circle A5 centre (124, 44.6) radius 1.4 projected
  circle A6 centre (124, 28.3) radius 1.4 projected
  circle A7 centre (8, 4) radius 1.4 projected
  circle A8 centre (24.0952, -12.2) radius 1.4 projected
  circle A9 centre (60.5952, -12.2) radius 1.4 projected
  circle A10 centre (97.0952, -12.2) radius 1.4 projected
  circle A11 centre (97.0952, 60.8) radius 1.4 projected
  circle A12 centre (60.5952, 60.8) radius 1.4 projected
  circle A13 centre (24.0952, 60.8) radius 1.4 projected
  line L8 (-5, -17.2) -> (132, -17.2)
  line L9 (132, -17.2) -> (132, -7.2)
  line L10 (132, -7.2) -> (-5, -7.2)
  line L11 (-5, -7.2) -> (-5, -17.2)
  line L12 (132, 60.8) -> (132, 49.1) projected
  line L13 (-5, 65.8) -> (132, 65.8)
  line L14 (132, 65.8) -> (132, 55.8)
  line L15 (132, 55.8) -> (-5, 55.8)
  line L16 (-5, 55.8) -> (-5, 65.8)
  point P0 (0, 48.6)
  point P1 (-5, 55.8)
  point P2 (-5, -7.2)
  dimension "d10" = 10
  dimension "d11" = 10
extrude "Extrusion3" add sketch "Skizze3" along normal blind 8 contours L0 L7 L6 L5 L10 L1 | L15 L5 L4 L3 L2 L1
properties part number "60_Planktoscope_Wallboxmoutingplate"
